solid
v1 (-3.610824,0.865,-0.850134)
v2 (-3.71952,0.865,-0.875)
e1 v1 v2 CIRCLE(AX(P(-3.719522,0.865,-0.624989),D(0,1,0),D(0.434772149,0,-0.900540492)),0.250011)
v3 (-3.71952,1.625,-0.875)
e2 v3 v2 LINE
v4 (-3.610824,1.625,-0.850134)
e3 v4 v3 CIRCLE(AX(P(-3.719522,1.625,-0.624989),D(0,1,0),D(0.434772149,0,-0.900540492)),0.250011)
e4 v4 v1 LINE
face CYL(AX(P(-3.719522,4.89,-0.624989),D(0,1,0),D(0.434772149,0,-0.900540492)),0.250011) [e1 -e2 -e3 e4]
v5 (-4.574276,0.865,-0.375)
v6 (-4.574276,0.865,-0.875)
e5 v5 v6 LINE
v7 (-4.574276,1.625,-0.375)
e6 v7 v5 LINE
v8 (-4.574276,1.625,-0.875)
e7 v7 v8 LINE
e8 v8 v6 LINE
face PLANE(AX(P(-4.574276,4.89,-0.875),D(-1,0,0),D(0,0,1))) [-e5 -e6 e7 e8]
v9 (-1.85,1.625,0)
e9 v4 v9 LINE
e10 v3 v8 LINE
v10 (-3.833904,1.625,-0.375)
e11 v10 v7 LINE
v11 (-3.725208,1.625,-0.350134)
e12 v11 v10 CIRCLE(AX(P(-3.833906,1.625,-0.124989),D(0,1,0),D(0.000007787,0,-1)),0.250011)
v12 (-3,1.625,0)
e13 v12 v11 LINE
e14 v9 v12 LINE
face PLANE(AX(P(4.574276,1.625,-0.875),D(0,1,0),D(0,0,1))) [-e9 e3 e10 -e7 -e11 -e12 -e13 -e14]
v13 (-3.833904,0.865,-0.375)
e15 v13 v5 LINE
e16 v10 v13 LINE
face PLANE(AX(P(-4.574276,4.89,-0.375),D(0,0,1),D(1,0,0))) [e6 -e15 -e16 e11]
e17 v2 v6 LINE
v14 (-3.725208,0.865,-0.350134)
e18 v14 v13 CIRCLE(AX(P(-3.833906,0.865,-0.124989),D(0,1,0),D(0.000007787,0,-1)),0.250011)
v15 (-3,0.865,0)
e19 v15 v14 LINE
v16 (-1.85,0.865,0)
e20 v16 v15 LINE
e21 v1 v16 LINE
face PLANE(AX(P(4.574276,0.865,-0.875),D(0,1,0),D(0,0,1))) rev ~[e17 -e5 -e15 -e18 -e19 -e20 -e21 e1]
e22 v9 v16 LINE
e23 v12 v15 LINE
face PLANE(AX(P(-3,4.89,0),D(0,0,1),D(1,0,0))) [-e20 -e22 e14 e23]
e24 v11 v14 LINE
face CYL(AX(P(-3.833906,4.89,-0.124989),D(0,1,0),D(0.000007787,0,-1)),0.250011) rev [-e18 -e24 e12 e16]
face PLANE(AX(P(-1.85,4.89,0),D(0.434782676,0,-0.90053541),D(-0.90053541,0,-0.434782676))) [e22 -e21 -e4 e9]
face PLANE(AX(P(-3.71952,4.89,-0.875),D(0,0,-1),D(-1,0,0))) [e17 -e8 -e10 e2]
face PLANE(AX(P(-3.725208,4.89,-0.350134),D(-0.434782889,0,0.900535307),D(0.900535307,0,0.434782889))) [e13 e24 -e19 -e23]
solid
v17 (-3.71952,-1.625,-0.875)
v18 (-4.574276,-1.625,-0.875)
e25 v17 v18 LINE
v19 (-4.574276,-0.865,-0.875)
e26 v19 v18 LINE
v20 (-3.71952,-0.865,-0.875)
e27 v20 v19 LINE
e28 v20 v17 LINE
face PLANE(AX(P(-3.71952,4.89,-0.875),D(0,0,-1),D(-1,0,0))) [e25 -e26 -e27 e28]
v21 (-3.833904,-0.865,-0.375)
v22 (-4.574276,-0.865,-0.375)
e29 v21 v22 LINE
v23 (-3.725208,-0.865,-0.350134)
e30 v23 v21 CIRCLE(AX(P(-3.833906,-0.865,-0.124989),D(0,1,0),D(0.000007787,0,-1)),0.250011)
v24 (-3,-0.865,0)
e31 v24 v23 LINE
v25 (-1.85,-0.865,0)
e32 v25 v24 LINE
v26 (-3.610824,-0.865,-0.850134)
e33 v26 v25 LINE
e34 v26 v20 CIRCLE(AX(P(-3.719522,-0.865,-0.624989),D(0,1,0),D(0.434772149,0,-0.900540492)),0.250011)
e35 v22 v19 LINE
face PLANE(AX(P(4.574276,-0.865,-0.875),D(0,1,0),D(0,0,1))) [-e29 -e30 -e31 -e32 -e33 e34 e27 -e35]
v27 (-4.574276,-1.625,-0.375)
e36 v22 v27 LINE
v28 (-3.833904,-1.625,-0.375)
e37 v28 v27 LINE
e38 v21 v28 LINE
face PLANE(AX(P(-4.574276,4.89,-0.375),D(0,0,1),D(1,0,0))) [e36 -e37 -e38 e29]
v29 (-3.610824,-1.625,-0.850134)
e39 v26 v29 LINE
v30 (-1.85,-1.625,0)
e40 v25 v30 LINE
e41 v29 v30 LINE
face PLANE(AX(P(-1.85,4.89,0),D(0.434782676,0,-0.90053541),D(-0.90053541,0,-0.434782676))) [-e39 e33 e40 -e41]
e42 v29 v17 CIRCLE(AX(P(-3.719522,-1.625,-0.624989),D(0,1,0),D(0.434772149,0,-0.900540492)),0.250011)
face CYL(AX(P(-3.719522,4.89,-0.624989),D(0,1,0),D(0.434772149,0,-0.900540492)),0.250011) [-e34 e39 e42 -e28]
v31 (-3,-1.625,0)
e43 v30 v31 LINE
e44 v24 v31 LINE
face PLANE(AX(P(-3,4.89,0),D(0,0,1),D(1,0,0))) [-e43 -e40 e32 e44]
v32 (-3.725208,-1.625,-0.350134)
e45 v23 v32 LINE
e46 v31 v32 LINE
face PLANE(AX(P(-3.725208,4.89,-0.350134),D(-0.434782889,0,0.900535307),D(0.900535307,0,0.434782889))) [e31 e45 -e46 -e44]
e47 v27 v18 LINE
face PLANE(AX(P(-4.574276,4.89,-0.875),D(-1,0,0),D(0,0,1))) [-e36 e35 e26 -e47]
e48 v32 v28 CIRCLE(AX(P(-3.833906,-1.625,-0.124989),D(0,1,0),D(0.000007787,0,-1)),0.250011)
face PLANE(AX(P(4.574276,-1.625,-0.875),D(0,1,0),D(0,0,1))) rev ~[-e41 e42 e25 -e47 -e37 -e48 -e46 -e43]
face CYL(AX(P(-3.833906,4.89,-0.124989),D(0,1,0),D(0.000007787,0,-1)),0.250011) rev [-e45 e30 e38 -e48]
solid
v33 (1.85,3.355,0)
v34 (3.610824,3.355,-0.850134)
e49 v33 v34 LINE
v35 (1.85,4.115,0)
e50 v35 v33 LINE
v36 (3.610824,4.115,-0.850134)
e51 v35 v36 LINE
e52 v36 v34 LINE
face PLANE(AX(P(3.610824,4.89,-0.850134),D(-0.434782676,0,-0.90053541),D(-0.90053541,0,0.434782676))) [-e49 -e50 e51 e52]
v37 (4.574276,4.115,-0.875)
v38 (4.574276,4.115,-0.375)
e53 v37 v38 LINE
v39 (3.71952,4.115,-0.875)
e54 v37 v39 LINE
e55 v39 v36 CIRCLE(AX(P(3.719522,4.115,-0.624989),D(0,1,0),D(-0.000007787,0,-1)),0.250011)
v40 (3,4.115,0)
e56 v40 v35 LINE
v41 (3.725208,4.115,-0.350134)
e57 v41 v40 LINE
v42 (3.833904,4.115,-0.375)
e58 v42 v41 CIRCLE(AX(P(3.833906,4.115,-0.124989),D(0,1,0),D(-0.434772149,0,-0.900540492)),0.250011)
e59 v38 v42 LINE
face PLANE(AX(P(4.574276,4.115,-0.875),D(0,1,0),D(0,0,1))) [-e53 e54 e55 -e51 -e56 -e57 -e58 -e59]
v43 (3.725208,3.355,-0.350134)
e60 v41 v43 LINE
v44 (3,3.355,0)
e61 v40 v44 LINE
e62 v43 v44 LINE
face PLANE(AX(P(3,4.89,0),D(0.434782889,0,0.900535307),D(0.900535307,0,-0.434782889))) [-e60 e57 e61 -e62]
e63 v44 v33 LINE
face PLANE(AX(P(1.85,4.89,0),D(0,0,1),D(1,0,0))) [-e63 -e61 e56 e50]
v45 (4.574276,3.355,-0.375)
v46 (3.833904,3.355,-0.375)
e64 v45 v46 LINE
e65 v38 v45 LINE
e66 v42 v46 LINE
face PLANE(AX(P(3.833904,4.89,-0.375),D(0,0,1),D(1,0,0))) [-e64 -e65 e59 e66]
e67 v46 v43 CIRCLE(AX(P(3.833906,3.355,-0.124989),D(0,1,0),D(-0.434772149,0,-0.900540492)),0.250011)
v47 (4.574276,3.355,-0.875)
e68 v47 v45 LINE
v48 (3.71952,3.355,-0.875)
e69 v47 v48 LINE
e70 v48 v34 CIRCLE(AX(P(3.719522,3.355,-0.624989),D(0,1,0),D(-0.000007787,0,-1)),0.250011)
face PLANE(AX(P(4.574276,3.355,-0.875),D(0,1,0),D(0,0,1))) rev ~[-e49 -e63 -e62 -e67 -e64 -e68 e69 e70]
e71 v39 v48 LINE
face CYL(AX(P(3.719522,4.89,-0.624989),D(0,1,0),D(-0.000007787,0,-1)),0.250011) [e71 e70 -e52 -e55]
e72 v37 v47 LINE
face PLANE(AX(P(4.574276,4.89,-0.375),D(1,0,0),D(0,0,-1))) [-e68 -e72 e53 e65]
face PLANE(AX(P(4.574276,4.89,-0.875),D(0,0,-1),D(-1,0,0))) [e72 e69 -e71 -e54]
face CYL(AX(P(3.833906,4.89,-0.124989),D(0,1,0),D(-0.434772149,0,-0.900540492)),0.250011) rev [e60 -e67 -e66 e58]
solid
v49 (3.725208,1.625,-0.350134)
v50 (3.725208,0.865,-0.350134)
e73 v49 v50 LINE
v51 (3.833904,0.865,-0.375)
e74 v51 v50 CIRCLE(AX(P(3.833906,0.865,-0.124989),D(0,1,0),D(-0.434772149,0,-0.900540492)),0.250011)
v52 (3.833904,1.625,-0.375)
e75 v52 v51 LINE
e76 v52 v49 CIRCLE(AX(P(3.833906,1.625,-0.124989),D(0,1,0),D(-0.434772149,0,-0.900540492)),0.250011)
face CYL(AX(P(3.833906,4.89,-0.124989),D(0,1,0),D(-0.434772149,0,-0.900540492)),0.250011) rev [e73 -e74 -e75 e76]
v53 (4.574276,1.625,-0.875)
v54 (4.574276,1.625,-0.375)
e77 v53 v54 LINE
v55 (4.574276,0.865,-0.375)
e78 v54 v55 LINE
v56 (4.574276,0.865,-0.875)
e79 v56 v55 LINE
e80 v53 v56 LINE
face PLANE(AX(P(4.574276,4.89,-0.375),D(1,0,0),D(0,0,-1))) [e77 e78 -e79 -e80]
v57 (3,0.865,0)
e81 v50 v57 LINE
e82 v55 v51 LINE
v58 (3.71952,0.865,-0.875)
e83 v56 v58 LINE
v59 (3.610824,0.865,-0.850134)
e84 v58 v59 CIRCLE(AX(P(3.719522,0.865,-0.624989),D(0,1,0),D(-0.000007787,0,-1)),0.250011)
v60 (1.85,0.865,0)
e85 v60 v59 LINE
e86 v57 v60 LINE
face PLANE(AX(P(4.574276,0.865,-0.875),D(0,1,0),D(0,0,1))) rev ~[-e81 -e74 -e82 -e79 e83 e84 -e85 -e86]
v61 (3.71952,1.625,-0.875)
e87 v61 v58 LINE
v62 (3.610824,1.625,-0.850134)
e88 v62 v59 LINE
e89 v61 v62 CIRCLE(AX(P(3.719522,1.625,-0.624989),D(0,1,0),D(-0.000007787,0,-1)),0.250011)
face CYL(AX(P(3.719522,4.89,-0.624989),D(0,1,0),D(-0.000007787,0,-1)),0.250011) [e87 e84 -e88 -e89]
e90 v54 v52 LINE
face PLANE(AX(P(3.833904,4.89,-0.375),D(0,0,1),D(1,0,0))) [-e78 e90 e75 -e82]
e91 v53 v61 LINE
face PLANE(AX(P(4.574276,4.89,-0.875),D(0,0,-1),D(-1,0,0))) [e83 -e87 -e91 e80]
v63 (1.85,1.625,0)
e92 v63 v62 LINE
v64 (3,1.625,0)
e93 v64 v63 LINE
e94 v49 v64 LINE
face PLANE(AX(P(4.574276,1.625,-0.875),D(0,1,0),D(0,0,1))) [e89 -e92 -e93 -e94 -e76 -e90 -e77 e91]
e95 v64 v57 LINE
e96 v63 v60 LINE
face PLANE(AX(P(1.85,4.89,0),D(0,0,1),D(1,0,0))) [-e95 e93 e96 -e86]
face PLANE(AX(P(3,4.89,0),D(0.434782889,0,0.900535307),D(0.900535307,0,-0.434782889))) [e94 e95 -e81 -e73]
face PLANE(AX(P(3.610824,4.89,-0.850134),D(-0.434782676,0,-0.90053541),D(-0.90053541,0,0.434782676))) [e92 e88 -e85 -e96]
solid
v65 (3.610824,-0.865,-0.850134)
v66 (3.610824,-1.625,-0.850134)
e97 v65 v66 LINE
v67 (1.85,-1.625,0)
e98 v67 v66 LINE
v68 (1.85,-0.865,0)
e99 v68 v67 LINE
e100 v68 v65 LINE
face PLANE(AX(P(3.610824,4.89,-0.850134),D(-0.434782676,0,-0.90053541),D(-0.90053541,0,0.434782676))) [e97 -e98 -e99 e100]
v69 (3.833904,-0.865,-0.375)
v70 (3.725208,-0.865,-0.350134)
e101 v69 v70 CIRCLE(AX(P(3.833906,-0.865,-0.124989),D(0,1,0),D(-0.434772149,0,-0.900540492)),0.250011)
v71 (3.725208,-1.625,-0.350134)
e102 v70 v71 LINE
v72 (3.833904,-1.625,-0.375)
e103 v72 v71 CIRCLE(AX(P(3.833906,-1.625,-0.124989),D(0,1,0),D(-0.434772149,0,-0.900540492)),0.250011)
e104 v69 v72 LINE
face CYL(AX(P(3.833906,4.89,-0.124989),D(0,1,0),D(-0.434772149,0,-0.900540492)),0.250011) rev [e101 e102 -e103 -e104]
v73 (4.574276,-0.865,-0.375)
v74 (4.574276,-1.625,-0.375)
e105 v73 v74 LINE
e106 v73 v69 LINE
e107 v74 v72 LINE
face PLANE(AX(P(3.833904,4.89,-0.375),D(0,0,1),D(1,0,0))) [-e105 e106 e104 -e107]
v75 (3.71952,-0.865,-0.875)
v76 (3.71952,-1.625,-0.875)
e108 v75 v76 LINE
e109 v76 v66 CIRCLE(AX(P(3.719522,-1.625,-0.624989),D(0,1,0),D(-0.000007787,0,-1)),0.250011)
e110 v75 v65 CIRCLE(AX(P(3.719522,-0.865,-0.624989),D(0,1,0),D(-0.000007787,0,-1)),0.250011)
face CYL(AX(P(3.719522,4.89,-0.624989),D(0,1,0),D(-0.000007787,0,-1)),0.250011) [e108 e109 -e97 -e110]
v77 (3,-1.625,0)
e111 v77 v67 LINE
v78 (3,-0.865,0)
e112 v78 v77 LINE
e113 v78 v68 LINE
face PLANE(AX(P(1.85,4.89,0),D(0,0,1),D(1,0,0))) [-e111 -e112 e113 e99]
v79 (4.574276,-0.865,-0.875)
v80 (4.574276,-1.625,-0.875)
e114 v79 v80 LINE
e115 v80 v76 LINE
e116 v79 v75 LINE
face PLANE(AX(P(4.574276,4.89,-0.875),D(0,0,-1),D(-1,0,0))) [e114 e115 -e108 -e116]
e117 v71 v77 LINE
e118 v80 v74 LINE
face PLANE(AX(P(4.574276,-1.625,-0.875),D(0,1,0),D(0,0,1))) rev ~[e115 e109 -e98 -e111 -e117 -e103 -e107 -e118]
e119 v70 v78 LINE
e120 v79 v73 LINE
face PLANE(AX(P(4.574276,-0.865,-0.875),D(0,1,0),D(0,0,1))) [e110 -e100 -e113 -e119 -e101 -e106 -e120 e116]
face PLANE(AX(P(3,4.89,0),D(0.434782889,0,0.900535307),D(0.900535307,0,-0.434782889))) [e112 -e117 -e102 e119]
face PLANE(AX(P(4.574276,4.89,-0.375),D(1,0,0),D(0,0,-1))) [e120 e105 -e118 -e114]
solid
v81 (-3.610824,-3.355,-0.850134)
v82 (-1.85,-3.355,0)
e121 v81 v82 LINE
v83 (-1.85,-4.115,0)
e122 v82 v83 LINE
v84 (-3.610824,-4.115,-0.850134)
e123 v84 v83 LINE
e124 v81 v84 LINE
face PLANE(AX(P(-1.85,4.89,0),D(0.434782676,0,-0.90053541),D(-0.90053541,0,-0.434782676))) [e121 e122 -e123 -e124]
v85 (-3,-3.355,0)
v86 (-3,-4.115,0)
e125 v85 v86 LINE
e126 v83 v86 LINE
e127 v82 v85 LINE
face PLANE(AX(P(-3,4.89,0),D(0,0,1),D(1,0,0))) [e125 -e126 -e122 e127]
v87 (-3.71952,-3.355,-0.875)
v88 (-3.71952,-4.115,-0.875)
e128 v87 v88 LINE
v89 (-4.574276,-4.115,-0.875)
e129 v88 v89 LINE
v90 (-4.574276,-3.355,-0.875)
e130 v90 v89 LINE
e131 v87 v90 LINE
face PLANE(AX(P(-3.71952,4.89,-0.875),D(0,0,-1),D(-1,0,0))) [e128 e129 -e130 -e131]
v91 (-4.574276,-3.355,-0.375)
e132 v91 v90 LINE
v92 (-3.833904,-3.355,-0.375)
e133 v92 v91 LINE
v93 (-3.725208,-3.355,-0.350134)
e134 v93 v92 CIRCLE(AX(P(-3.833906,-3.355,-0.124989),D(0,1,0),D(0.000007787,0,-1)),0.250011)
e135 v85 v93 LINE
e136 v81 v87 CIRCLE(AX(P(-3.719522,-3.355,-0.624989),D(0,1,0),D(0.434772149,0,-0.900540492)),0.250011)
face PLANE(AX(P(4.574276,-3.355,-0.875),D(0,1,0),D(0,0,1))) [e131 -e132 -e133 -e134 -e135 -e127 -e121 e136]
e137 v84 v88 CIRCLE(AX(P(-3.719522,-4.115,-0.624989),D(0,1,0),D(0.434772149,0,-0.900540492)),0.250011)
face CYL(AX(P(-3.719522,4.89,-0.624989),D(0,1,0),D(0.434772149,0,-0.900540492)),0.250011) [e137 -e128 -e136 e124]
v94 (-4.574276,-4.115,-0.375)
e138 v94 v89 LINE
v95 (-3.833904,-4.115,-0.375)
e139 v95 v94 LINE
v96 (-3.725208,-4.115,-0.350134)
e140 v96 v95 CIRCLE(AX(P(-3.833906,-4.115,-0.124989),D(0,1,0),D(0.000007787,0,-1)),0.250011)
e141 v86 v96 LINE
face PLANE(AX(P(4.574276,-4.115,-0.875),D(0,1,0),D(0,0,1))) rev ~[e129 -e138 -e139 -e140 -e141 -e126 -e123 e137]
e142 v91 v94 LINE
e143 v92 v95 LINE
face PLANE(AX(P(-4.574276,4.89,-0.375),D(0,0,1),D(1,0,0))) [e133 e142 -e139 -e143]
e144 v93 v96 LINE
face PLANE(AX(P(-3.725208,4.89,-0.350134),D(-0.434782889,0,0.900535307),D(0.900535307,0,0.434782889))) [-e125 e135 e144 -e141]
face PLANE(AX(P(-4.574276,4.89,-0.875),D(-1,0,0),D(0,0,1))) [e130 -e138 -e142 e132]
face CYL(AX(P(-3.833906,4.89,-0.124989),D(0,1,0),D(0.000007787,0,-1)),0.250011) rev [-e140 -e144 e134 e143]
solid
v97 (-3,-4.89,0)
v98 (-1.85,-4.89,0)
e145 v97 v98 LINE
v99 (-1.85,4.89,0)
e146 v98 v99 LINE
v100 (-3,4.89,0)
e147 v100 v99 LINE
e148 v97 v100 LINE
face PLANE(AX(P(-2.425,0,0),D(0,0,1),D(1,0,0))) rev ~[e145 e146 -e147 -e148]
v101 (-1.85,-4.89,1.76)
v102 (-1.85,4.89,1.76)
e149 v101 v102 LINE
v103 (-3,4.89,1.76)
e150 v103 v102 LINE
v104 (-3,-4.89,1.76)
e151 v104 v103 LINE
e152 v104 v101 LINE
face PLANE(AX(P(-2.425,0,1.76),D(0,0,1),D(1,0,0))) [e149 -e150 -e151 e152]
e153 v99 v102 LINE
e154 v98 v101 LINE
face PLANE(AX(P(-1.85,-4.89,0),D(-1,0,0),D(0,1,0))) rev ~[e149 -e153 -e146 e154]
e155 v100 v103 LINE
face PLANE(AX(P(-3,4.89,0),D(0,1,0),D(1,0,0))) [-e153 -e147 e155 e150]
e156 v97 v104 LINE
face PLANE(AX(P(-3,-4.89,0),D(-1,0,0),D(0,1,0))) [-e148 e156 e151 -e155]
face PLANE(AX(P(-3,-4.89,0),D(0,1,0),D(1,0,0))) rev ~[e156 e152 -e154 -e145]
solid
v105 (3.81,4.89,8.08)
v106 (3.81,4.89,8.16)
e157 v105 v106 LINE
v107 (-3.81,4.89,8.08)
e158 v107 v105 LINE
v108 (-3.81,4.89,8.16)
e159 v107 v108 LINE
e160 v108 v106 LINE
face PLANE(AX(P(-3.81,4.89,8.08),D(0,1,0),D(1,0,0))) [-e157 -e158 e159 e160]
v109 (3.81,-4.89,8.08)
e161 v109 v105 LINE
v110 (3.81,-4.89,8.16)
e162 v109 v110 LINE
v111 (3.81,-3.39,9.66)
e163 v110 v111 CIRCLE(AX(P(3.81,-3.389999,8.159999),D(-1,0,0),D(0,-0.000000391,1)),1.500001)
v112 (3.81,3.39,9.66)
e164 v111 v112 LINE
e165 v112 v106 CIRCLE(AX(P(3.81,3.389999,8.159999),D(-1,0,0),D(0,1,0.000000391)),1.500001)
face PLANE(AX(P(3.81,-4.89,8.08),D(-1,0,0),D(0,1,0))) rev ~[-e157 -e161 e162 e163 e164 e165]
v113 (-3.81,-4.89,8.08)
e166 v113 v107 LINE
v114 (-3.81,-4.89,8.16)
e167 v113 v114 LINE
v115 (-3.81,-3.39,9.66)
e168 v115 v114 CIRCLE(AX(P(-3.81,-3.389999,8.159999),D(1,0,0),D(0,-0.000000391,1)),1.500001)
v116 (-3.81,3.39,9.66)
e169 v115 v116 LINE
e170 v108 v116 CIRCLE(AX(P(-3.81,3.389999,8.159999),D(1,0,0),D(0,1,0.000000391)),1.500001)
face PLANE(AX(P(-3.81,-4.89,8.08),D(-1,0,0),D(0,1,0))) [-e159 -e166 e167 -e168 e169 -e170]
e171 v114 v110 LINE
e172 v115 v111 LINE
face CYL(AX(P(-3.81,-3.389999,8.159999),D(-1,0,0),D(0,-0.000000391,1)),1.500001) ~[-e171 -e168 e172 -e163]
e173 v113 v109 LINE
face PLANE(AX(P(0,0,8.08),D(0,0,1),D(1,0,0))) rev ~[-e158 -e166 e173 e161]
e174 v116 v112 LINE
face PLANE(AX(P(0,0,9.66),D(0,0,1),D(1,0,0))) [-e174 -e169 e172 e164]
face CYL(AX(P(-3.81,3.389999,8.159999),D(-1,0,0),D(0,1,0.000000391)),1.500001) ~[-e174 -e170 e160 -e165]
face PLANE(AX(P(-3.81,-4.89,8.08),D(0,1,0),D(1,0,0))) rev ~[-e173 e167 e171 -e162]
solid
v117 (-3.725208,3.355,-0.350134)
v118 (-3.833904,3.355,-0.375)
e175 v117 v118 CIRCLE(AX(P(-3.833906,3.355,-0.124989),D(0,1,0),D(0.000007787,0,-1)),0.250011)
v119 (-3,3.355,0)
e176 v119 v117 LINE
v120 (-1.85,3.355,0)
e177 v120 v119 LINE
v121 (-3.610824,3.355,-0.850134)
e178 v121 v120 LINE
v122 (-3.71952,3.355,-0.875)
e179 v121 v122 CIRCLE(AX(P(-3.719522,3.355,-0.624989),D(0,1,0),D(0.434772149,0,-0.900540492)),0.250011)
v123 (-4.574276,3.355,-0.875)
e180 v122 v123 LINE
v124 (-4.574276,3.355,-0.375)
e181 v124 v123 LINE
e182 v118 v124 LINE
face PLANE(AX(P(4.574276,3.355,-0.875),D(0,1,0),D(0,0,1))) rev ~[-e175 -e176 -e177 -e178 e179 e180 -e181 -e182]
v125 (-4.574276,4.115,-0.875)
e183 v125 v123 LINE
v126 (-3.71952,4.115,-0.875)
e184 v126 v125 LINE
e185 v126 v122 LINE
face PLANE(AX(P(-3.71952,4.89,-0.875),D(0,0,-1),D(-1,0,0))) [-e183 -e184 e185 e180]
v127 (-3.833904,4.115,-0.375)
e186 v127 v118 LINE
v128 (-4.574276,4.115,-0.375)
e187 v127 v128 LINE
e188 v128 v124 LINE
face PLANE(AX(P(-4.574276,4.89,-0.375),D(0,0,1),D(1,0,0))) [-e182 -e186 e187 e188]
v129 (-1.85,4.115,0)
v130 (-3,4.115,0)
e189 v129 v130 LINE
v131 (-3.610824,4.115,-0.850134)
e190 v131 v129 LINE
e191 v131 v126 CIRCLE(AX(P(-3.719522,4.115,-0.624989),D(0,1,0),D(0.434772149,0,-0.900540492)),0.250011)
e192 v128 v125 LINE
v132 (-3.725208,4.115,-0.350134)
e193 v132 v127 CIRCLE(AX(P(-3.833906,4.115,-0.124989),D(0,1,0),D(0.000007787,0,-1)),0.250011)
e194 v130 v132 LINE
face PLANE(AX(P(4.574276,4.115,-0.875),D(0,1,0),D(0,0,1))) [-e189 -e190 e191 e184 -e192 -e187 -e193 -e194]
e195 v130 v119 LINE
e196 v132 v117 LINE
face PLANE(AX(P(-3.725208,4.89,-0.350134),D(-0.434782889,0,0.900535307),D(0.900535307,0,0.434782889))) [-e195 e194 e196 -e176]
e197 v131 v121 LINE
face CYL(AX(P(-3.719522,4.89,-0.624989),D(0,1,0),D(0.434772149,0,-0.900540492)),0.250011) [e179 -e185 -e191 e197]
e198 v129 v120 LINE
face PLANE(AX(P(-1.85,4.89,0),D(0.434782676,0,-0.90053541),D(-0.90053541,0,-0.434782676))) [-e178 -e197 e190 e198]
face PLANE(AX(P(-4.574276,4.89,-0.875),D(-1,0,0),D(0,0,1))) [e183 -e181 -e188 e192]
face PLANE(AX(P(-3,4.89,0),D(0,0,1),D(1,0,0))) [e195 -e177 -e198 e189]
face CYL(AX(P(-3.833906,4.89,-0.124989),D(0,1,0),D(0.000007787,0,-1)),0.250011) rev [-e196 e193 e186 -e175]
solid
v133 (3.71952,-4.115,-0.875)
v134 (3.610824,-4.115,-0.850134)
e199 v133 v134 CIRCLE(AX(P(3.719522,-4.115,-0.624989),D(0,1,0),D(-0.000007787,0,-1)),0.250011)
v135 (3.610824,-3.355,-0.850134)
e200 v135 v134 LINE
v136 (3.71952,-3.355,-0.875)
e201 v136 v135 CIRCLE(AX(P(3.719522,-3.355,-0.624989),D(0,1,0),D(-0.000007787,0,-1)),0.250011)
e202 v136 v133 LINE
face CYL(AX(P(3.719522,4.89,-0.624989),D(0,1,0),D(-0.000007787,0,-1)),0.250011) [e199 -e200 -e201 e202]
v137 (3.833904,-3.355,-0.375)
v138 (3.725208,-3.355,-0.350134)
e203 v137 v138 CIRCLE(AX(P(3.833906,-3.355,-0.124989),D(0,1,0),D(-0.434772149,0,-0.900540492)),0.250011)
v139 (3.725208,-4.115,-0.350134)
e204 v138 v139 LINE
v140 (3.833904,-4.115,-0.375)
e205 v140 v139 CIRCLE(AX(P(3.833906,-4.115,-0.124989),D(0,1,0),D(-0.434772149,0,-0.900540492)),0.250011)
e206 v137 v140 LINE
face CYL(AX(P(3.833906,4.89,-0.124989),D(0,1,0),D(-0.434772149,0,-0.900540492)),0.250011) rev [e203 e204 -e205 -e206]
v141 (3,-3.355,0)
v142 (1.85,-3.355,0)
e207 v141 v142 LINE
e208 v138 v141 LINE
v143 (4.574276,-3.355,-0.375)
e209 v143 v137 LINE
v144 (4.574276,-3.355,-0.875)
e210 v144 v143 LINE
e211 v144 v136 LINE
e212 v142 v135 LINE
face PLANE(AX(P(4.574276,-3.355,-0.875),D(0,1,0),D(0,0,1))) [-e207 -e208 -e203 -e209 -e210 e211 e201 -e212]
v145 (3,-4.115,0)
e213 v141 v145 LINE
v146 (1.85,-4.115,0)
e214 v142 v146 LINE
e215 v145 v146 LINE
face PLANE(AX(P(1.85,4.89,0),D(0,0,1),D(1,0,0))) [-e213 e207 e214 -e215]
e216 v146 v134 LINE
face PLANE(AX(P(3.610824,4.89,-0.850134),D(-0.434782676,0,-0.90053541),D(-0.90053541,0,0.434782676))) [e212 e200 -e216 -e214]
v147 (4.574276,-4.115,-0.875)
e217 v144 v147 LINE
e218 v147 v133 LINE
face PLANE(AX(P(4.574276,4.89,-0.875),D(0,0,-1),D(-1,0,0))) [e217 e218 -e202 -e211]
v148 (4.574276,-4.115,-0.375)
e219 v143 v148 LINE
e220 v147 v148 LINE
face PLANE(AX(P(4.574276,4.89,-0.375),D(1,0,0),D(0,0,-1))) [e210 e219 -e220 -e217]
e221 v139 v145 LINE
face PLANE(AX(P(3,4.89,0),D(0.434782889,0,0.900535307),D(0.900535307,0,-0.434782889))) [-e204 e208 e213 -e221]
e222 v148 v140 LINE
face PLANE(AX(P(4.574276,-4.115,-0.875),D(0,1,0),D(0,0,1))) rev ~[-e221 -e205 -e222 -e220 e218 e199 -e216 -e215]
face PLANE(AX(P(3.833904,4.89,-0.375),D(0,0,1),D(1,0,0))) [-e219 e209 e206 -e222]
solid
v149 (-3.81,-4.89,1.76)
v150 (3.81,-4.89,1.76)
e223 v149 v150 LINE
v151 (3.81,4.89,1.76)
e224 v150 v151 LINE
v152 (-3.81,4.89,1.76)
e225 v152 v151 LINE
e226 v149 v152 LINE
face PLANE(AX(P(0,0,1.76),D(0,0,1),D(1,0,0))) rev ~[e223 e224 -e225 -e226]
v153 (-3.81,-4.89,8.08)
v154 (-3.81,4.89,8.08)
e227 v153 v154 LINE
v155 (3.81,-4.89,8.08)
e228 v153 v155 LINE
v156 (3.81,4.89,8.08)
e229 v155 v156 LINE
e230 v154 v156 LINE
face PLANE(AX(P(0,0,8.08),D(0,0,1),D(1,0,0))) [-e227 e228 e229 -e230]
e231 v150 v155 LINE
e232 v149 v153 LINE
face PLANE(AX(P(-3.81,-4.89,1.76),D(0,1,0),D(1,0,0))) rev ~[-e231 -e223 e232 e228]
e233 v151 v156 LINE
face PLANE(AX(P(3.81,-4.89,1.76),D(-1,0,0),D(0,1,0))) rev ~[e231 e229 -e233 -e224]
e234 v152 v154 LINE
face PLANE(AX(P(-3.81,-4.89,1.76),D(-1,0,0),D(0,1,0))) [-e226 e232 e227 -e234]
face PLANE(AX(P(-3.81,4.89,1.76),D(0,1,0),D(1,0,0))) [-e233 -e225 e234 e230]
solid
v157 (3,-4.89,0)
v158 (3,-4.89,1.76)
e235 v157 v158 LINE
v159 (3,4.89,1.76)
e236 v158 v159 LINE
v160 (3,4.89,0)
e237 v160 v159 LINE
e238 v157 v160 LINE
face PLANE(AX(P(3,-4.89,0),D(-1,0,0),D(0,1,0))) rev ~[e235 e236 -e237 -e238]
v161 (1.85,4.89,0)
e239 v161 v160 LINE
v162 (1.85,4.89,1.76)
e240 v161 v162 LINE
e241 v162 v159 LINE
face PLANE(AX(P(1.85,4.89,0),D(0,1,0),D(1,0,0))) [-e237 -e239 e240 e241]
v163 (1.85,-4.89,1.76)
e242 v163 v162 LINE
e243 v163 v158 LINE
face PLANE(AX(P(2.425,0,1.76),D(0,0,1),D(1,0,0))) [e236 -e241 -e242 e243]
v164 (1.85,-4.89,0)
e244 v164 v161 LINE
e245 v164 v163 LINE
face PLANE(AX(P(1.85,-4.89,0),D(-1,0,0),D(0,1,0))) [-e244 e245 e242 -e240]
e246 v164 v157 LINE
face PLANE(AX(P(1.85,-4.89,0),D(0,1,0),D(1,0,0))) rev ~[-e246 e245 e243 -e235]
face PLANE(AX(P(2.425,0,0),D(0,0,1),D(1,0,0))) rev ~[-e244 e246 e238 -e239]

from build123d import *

# Parameters (mm, degrees)
F0_W      = 1.15
F0_H      = 9.78
F1_DEPTH  = 1.76
F2_W      = 7.62
F2_H      = 9.78
F3_DEPTH  = 6.32
F4_W      = 7.62
F4_H      = 9.78
F5_DEPTH  = 1.58
F7_DEPTH  = 25
F9_DEPTH  = 9.78
F10_W     = 0.775
F10_H     = 0.875
F10_W_2   = 1.73
F10_W_3   = 0.865
F11_DEPTH = 100


with BuildPart() as f1:
    # F0 (on Top) → F1 (new body)
    with BuildSketch(Plane.XY):
        with Locations((-2.425, 0)):
            Rectangle(F0_W, F0_H)
        with Locations((2.425, 0)):
            Rectangle(F0_W, F0_H)
    extrude(amount=F1_DEPTH)


with BuildPart() as f3:
    # F2 (on face) → F3 (new body)
    with BuildSketch(Plane.XY.offset(1.76)):
        Rectangle(F2_W, F2_H)
    extrude(amount=F3_DEPTH)


with BuildPart() as f5:
    # F4 (on face) → F5 (new body)
    with BuildSketch(Plane.XY.offset(8.08)):
        Rectangle(F4_W, F4_H)
    extrude(amount=F5_DEPTH)

    # F6 (on face) → F7 (cut)
    with BuildSketch(Plane(origin=(-3.81, 0, 0), x_dir=(0, -1, 0), z_dir=(-1, 0, 0))):
        with BuildLine():
            ThreePointArc((-4.89, 8.16), (-4.45066, 9.22066), (-3.39, 9.66))
            Line((-3.39, 9.66), (-4.89, 9.66))
            Line((-4.89, 9.66), (-4.89, 8.16))
        make_face()
        with BuildLine():
            ThreePointArc((3.39, 9.66), (4.45066, 9.22066), (4.89, 8.16))
            Line((4.89, 8.16), (4.89, 9.66))
            Line((4.89, 9.66), (3.39, 9.66))
        make_face()
    extrude(amount=-F7_DEPTH, mode=Mode.SUBTRACT)


with BuildPart() as f9:
    # F8 (on face) → F9 (new body)
    with BuildSketch(Plane(origin=(0, 4.89, 0), x_dir=(-1, 0, 0), z_dir=(0, 1, 0))):
        with BuildLine():
            Line((-3.833904, -0.375), (-4.574276, -0.375))
            Line((-4.574276, -0.375), (-4.574276, -0.875))
            Line((-4.574276, -0.875), (-3.71952, -0.875))
            ThreePointArc((-3.71952, -0.875), (-3.663768, -0.868704), (-3.610824, -0.850134))
            Line((-3.610824, -0.850134), (-1.85, 0))
            Line((-1.85, 0), (-3, 0))
            Line((-3, 0), (-3.725208, -0.350134))
            ThreePointArc((-3.725208, -0.350134), (-3.778152, -0.368704), (-3.833904, -0.375))
        make_face()
        with BuildLine():
            Line((4.574276, -0.375), (3.833904, -0.375))
            ThreePointArc((3.833904, -0.375), (3.778152, -0.368704), (3.725208, -0.350134))
            Line((3.725208, -0.350134), (3, 0))
            Line((3, 0), (1.85, 0))
            Line((1.85, 0), (3.610824, -0.850134))
            ThreePointArc((3.610824, -0.850134), (3.663768, -0.868704), (3.71952, -0.875))
            Line((3.71952, -0.875), (4.574276, -0.875))
            Line((4.574276, -0.875), (4.574276, -0.375))
        make_face()
    extrude(amount=-F9_DEPTH)

    # F10 (on face) → F11 (cut)
    with BuildSketch(Plane.YZ.offset(4.574276)):
        with Locations((-4.5025, -0.4375)):
            Rectangle(F10_W, F10_H)
        with Locations((-2.49, -0.4375)):
            Rectangle(F10_W_2, F10_H)
        with Locations((-0.4325, -0.4375)):
            Rectangle(F10_W_3, F10_H)
        with Locations((0.4325, -0.4375)):
            Rectangle(F10_W_3, F10_H)
        with Locations((4.5025, -0.4375)):
            Rectangle(F10_W, F10_H)
        with Locations((2.49, -0.4375)):
            Rectangle(F10_W_2, F10_H)
    extrude(amount=-F11_DEPTH, mode=Mode.SUBTRACT)


solid = Compound([f1.part, f3.part, f5.part, f9.part])
